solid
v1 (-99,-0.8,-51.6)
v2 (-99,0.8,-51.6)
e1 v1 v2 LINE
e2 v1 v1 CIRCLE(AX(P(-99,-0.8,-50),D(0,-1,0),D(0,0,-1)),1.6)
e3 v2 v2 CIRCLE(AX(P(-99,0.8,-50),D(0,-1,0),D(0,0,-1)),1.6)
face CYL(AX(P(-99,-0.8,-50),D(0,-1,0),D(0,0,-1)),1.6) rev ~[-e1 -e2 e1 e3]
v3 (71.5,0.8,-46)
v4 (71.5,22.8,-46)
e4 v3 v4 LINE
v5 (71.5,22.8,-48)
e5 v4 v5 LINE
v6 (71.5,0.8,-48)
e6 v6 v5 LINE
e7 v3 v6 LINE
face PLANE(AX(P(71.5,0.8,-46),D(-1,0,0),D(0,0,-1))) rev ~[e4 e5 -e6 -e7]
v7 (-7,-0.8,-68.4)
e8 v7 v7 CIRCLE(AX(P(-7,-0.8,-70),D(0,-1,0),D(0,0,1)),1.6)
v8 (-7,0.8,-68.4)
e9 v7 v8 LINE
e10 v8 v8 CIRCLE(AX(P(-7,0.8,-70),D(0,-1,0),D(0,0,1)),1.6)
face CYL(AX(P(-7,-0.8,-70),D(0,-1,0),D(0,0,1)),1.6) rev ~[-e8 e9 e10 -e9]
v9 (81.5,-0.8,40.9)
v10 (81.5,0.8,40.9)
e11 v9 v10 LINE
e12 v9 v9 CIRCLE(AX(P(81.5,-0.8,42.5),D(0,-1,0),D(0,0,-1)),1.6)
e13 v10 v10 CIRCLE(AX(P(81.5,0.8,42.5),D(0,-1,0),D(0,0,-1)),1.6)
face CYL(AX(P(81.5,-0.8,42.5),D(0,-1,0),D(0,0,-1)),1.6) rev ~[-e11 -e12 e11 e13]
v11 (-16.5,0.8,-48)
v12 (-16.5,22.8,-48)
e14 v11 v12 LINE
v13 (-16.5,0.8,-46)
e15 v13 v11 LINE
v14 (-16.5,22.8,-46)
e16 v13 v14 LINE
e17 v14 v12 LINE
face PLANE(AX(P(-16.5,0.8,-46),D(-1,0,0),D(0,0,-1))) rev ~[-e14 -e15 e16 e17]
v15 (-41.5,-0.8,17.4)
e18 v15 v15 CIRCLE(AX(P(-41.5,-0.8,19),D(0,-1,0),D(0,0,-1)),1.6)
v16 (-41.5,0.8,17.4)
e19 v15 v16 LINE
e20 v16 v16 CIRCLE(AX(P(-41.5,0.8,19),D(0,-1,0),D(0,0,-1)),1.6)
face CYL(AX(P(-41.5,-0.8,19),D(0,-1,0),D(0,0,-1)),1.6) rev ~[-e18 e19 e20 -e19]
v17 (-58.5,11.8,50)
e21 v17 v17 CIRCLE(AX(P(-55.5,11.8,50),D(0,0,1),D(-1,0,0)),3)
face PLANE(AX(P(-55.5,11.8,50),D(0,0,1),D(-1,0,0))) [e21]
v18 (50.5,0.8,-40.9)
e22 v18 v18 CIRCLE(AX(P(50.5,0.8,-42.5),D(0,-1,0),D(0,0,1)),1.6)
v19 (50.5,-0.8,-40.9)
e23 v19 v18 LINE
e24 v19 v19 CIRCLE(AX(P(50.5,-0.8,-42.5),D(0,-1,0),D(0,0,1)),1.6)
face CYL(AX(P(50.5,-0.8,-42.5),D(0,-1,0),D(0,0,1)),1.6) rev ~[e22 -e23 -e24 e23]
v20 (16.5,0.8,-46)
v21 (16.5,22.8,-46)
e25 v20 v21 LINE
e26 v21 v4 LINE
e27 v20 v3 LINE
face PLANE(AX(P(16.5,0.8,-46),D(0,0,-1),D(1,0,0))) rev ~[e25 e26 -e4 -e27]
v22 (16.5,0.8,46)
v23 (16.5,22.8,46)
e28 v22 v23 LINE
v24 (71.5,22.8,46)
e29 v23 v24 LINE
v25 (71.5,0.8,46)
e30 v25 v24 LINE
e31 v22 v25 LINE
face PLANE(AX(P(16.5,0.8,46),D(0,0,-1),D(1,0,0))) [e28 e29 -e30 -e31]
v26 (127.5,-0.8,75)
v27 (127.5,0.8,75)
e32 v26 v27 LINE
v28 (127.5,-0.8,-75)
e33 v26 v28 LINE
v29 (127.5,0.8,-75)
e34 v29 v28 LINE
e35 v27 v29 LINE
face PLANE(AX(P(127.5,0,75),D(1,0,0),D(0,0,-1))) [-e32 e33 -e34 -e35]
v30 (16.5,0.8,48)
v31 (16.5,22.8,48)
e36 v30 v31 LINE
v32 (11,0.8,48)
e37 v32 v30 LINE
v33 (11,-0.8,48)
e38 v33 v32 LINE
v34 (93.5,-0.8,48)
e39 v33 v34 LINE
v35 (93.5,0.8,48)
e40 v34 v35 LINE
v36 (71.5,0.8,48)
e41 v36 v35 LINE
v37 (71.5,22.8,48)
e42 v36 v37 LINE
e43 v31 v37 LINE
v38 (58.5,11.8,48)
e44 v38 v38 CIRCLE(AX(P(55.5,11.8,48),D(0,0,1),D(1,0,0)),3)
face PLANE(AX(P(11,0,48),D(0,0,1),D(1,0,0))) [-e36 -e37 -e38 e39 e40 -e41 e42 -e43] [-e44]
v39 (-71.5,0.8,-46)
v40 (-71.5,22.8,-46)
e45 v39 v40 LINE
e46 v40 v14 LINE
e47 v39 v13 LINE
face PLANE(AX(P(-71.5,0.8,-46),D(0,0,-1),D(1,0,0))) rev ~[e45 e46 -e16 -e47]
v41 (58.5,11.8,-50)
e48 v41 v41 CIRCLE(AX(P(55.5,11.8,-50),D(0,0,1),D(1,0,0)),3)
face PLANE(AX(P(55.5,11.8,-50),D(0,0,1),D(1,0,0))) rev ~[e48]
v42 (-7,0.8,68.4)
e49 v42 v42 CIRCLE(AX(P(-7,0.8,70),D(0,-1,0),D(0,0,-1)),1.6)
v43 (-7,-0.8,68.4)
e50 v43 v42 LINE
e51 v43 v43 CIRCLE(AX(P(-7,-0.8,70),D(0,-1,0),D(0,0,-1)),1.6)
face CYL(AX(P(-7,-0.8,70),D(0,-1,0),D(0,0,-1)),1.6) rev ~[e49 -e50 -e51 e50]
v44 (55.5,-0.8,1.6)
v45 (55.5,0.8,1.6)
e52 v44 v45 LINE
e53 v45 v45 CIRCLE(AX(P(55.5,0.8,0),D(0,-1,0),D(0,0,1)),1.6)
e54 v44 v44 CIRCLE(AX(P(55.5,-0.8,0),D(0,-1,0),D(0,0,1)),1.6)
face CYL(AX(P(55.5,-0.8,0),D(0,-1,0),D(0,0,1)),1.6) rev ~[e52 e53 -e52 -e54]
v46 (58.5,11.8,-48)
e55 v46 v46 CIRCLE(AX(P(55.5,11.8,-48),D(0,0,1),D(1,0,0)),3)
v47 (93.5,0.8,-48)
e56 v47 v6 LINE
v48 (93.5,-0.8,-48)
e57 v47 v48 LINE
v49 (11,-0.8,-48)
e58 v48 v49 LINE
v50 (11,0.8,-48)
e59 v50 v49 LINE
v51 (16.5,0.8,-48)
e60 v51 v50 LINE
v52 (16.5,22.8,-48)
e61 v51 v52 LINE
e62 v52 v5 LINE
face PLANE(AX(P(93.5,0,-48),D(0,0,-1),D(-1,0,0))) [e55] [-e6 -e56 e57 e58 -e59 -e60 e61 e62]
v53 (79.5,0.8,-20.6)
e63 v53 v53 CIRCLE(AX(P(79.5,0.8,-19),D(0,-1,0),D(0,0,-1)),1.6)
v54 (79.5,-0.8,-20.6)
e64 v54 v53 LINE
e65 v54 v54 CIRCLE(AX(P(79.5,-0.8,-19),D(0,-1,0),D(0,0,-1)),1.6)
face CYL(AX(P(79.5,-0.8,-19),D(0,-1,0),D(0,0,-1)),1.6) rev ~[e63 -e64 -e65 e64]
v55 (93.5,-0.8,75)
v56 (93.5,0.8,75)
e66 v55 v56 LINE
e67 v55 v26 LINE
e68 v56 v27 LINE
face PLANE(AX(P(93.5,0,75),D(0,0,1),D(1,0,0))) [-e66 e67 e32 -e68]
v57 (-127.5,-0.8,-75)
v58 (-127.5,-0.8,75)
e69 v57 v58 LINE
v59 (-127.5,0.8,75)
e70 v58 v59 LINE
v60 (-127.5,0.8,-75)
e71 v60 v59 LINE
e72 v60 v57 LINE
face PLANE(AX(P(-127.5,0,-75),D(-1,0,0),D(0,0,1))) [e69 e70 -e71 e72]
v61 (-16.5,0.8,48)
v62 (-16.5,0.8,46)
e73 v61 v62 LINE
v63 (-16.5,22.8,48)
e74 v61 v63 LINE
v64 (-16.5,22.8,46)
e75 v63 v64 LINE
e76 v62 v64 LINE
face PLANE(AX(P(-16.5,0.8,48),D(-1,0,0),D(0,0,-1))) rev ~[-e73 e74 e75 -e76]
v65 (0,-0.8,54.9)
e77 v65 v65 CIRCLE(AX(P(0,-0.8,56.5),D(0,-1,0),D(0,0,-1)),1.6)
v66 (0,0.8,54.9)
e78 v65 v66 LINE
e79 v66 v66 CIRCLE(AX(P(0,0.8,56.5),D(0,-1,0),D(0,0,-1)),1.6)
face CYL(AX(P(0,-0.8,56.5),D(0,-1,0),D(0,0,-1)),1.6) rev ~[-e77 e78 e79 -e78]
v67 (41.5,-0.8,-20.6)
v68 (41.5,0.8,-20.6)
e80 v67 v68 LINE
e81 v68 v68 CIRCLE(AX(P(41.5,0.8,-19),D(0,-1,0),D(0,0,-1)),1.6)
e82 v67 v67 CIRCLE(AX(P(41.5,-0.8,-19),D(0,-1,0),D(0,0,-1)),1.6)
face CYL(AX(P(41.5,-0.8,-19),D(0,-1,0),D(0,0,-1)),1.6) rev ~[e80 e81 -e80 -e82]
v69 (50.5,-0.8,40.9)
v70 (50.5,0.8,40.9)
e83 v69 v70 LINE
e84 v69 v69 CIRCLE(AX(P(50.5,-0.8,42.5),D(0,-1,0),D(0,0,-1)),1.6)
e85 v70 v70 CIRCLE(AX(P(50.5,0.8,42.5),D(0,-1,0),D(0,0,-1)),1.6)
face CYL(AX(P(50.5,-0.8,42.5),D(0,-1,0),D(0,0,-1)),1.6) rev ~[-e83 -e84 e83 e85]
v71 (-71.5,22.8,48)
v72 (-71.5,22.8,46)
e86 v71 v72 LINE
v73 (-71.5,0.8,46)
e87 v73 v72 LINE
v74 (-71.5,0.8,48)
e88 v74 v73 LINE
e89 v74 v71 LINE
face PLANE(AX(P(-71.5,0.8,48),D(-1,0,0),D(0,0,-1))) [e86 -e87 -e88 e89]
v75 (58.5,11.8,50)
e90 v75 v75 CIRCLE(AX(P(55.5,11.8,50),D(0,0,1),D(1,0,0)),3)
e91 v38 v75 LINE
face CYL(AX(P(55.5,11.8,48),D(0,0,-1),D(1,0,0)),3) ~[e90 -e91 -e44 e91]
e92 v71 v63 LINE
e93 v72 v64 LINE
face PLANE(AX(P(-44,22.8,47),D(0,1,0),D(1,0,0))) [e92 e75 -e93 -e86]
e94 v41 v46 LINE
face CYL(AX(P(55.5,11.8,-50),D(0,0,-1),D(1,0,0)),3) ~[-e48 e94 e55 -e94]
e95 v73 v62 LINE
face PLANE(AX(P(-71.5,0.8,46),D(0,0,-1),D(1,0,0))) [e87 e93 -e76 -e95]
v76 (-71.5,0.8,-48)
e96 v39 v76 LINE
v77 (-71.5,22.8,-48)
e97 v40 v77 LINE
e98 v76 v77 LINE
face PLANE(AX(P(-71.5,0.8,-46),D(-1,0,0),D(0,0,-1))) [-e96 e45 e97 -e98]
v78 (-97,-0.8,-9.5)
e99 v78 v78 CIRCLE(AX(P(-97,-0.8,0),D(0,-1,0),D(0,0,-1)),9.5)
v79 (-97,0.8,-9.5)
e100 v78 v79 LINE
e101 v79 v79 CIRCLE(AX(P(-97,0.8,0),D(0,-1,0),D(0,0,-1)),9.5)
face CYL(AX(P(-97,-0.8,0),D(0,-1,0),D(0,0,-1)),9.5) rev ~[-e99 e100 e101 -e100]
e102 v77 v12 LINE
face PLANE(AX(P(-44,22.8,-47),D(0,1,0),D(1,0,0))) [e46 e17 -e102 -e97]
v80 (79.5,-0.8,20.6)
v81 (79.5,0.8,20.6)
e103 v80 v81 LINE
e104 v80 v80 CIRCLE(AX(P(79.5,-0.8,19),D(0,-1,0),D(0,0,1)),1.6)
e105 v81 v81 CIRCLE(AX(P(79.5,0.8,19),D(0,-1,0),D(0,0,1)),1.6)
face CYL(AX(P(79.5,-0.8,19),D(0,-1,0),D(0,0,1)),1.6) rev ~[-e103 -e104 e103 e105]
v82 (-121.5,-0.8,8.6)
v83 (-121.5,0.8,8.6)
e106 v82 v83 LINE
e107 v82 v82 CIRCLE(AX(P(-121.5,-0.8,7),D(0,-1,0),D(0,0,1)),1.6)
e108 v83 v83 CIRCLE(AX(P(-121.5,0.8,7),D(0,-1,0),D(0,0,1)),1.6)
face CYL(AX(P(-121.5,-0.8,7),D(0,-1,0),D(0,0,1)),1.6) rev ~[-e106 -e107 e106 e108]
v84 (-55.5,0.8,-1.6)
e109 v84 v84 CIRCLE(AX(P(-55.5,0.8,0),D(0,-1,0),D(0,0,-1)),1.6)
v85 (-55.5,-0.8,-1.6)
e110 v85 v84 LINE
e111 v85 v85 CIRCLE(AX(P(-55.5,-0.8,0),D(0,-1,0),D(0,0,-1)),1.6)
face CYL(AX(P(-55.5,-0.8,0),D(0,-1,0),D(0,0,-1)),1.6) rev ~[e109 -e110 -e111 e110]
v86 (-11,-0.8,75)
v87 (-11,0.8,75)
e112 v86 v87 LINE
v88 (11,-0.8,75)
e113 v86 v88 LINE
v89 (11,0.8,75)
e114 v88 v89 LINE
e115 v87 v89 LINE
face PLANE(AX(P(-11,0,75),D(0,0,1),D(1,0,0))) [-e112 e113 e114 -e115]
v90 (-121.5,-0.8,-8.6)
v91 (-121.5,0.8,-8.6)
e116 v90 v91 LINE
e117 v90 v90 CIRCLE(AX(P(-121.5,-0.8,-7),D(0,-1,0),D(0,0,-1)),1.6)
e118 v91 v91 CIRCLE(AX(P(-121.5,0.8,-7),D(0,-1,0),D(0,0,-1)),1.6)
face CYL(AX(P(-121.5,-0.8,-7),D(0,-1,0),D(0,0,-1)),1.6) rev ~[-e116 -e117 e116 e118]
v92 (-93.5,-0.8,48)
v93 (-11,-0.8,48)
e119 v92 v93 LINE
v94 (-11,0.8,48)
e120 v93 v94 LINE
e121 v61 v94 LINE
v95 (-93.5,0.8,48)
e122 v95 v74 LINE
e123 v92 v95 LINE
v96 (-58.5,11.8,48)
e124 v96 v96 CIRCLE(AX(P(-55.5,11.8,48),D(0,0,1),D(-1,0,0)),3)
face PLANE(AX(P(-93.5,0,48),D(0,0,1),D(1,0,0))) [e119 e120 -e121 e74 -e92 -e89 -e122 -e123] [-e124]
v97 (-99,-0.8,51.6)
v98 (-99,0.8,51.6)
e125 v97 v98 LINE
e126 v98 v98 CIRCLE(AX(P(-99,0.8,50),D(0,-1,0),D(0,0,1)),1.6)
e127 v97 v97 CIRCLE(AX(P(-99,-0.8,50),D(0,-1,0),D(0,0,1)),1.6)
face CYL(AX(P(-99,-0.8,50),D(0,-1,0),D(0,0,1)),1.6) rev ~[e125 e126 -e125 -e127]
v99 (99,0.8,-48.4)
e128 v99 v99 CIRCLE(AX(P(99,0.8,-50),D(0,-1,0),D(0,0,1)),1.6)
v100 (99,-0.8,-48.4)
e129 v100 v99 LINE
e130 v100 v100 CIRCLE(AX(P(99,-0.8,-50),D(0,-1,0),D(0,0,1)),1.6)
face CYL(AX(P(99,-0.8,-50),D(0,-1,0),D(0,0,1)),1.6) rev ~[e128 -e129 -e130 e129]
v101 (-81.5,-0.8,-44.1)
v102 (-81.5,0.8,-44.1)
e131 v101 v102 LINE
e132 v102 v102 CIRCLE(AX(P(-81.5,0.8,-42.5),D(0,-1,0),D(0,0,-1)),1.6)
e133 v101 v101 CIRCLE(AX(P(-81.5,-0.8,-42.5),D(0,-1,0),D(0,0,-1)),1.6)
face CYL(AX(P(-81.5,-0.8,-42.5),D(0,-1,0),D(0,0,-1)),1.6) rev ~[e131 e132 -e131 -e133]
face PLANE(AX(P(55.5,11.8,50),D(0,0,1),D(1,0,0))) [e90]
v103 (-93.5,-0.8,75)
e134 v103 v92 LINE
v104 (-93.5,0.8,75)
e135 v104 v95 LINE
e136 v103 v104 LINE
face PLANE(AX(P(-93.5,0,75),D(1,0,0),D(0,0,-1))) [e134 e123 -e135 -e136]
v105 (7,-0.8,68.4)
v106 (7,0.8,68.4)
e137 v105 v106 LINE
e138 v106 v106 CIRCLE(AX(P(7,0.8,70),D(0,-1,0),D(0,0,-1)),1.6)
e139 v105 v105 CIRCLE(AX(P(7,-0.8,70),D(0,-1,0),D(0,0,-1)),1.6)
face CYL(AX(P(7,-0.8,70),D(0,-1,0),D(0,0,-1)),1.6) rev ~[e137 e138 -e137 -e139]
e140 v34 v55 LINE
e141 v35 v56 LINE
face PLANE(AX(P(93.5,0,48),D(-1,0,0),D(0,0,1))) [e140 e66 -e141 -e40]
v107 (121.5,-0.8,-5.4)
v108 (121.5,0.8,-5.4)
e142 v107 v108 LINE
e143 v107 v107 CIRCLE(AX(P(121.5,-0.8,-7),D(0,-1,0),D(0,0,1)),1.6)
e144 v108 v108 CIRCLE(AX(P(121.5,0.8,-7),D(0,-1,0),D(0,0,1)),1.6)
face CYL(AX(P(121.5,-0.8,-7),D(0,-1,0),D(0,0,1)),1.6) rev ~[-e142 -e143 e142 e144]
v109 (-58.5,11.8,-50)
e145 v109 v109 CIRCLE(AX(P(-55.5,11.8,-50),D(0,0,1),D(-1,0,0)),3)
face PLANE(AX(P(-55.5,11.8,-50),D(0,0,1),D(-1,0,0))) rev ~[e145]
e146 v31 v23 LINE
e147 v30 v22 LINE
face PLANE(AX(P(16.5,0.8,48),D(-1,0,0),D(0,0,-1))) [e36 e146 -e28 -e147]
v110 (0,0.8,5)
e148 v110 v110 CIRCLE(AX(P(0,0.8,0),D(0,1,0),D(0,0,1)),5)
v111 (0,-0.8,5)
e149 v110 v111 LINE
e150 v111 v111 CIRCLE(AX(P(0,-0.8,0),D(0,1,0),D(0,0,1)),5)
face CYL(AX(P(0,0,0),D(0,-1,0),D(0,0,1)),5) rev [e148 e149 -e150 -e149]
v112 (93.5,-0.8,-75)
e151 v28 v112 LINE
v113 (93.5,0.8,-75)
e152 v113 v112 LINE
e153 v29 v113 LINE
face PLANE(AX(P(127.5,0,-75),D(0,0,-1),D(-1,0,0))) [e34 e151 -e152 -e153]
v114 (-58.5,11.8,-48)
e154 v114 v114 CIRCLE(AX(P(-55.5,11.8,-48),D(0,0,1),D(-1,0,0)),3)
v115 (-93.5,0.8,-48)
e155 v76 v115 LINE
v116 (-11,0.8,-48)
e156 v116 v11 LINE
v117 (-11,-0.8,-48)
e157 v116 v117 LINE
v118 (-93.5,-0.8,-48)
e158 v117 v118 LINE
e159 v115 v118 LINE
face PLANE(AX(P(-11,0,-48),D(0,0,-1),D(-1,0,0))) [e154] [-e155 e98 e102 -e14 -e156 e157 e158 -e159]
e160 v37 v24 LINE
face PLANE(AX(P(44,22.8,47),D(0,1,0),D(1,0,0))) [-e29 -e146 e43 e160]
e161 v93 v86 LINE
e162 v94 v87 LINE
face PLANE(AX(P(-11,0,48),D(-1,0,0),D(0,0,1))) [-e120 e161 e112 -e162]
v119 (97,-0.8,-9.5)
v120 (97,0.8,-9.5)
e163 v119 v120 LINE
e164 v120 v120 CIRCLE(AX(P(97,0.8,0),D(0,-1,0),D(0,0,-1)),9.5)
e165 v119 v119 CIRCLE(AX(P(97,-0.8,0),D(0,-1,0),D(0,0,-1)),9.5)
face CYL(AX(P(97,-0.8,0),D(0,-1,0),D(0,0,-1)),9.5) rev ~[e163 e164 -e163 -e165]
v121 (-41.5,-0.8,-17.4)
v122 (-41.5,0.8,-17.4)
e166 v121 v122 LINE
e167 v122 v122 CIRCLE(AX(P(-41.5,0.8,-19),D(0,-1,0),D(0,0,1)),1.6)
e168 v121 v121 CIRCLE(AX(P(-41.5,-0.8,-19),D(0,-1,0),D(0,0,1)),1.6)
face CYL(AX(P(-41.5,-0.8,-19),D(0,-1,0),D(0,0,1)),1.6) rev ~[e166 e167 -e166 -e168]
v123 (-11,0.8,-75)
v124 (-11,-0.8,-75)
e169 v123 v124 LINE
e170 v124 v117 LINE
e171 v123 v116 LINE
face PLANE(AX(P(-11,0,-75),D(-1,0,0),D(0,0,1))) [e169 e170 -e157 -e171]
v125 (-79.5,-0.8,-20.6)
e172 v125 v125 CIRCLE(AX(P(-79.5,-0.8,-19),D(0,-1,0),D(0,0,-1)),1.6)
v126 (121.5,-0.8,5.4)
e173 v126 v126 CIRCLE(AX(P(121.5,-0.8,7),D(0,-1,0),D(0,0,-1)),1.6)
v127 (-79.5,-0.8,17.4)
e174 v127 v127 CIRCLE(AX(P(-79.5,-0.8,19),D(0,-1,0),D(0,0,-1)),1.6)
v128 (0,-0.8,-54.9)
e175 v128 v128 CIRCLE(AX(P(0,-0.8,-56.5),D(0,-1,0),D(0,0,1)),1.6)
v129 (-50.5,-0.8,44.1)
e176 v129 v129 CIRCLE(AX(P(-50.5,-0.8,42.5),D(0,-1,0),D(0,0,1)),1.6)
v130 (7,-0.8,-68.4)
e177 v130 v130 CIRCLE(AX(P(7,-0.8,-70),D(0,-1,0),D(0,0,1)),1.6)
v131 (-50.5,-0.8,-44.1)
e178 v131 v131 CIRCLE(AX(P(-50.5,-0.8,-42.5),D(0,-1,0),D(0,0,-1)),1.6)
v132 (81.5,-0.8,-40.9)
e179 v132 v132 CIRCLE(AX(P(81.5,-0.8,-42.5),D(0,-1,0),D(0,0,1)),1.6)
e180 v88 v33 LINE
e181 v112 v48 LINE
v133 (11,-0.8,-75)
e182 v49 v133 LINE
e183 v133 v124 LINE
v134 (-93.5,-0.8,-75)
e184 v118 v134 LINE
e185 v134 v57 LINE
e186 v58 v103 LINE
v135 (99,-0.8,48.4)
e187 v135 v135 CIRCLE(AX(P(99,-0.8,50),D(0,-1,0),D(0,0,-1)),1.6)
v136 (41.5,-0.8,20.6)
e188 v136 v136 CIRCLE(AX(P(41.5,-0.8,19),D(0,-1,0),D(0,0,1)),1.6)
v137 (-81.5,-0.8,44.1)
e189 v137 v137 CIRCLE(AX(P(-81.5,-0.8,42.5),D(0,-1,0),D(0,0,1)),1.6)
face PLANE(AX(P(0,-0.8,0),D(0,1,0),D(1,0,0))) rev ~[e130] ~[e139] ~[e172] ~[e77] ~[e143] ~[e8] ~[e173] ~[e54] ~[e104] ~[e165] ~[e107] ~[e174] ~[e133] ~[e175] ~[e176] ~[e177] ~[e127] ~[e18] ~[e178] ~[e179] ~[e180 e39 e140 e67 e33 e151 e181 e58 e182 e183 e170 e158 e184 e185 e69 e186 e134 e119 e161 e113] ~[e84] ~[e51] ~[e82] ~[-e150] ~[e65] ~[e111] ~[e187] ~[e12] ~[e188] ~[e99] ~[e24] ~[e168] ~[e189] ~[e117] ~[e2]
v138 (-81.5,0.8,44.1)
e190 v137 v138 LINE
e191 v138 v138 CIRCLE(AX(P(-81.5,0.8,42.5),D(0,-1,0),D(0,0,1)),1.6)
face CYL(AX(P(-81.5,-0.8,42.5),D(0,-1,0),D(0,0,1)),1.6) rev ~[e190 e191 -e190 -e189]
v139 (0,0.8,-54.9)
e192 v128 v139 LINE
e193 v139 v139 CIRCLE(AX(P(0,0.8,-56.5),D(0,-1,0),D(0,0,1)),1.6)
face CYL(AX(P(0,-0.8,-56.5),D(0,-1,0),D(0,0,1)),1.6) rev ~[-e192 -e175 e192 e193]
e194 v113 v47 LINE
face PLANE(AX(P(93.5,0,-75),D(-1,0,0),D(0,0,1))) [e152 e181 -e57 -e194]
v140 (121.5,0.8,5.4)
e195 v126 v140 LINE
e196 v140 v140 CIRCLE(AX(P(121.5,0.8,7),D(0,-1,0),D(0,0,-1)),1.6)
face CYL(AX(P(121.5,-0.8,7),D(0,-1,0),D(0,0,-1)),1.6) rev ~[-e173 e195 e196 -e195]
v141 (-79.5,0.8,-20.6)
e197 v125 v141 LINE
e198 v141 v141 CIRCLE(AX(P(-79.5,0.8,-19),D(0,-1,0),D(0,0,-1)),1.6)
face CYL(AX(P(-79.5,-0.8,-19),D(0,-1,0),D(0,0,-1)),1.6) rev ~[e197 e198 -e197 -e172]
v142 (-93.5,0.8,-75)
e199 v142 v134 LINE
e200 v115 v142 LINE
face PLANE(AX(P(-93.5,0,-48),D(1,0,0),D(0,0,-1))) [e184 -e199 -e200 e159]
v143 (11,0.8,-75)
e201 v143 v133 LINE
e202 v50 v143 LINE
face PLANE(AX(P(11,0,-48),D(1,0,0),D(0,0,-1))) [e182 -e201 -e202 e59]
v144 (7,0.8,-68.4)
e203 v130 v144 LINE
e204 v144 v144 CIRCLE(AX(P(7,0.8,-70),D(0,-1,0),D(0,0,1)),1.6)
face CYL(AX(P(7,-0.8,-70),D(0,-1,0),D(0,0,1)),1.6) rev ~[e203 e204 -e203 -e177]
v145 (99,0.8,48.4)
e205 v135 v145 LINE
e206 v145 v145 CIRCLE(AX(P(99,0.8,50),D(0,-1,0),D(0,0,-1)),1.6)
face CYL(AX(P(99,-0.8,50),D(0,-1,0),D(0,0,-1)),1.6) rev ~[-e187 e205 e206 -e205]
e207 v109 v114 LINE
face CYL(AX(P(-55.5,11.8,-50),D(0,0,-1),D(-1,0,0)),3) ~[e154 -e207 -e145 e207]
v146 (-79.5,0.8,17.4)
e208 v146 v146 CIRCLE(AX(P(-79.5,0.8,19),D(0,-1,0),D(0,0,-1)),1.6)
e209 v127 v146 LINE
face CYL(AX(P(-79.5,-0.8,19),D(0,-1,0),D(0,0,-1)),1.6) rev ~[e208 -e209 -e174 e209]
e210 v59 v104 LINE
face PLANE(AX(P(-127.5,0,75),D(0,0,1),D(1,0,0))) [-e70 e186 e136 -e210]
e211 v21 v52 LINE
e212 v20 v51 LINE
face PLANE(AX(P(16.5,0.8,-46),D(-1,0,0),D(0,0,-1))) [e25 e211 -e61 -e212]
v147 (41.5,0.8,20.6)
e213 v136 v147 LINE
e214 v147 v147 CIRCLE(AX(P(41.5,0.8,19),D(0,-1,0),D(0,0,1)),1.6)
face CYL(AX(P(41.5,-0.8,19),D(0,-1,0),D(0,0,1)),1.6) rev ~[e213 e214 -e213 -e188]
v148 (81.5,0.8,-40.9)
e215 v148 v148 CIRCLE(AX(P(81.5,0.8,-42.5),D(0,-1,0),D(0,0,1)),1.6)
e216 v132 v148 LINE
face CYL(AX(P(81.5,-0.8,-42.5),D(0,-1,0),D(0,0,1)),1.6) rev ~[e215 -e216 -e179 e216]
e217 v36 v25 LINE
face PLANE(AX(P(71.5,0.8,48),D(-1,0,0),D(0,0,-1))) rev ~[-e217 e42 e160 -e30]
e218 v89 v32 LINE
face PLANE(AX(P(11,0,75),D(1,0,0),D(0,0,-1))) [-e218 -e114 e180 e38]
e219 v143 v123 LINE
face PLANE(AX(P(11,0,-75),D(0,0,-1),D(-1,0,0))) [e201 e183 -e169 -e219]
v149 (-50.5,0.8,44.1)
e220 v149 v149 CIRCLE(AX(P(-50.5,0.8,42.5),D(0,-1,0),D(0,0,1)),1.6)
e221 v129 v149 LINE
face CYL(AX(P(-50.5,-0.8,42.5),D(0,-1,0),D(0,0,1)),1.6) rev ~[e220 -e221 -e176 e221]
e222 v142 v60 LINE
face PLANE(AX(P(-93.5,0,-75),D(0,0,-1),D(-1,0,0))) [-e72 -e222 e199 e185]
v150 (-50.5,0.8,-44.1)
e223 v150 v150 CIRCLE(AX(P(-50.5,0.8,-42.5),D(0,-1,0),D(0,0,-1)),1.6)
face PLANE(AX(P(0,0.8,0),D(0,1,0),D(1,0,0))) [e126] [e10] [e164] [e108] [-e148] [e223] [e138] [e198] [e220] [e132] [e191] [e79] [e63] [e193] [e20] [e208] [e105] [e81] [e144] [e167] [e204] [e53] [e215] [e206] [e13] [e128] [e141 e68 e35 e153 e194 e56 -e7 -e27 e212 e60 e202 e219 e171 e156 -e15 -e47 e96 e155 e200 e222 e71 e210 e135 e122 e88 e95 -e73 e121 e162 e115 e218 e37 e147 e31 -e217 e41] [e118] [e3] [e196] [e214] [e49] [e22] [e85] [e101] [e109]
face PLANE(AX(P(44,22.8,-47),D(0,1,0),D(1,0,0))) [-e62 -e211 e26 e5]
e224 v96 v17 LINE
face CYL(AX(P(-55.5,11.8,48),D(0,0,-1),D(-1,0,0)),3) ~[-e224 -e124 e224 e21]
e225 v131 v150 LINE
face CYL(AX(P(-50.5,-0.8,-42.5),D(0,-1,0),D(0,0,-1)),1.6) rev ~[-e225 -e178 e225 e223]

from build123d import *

# Parameters (mm, degrees)
SKETCH_2_R             = 5
EXTRUDE_1_DEPTH        = 0.8
SKETCH_3_W             = 55
SKETCH_3_H             = 2
EXTRUDE_2_DEPTH        = 22
SKETCH_4_R             = 3
EXTRUDE_3_DEPTH        = 2
PATTERN_LINEAR_1_COUNT = 2
PATTERN_LINEAR_1_PITCH = 98
SKETCH_5_R             = 1.6
SKETCH_5_R_2           = 9.5
CUT_EXTRUDE_1_DEPTH    = 2


with BuildPart() as part:
    # 草图2 → 凸台-拉伸1 (new, symmetric)
    with BuildSketch(Plane(origin=(0, 0, 0), x_dir=(1, 0, 0), z_dir=(0, 1, 0))):
        Polygon((-127.5, 75), (-127.5, -75), (-93.5, -75), (-93.5, -48), (-11, -48), (-11, -75), (11, -75), (11, -48), (93.5, -48), (93.5, -75), (127.5, -75), (127.5, 75), (93.5, 75), (93.5, 48), (11, 48), (11, 75), (-11, 75), (-11, 48), (-93.5, 48), (-93.5, 75), align=None)
        with Locations(Location((0, 0, 0), (0, 0, 270))):
            Circle(SKETCH_2_R, mode=Mode.SUBTRACT)
    extrude(amount=EXTRUDE_1_DEPTH, both=True)

    # 草图3 → 凸台-拉伸2 (add)
    with BuildSketch(Plane(origin=(0, 0.8, 0), x_dir=(1, 0, 0), z_dir=(0, 1, 0))):
        with Locations((-44, -47)):
            Rectangle(SKETCH_3_W, SKETCH_3_H)
        with Locations((44, -47)):
            Rectangle(SKETCH_3_W, SKETCH_3_H)
        with Locations((44, 47)):
            Rectangle(SKETCH_3_W, SKETCH_3_H)
        with Locations((-44, 47)):
            Rectangle(SKETCH_3_W, SKETCH_3_H)
    extrude(amount=EXTRUDE_2_DEPTH)

    # 草图4 → 凸台-拉伸3 (add)
    with BuildSketch(Plane.XY.offset(48)):
        with Locations((55.5, 11.8)):
            Circle(SKETCH_4_R)
        with Locations(Location((-55.5, 11.8, 0), (0, 0, 180))):
            Circle(SKETCH_4_R)
    extrude_3 = extrude(amount=EXTRUDE_3_DEPTH)

    # 阵列(线性)1: 凸台-拉伸3 ×2
    with Locations(*[(0, 0, -i * PATTERN_LINEAR_1_PITCH) for i in range(1, PATTERN_LINEAR_1_COUNT)]):
        add(extrude_3)

    # 草图5 → 切除-拉伸1 (cut)
    with BuildSketch(Plane.XZ.offset(0.8)):
        with Locations(Location((-55.5, 0, 0), (0, 0, 270))):
            Circle(SKETCH_5_R)
        with Locations(Location((0, 56.5, 0), (0, 0, 270))):
            Circle(SKETCH_5_R)
        with Locations(Location((7, 70, 0), (0, 0, 270))):
            Circle(SKETCH_5_R)
        with Locations(Location((-7, 70, 0), (0, 0, 270))):
            Circle(SKETCH_5_R)
        with Locations(Location((99, 50, 0), (0, 0, 270))):
            Circle(SKETCH_5_R)
        with Locations(Location((-81.5, -42.5, 0), (0, 0, 270))):
            Circle(SKETCH_5_R)
        with Locations(Location((-50.5, -42.5, 0), (0, 0, 270))):
            Circle(SKETCH_5_R)
        with Locations(Location((-99, -50, 0), (0, 0, 270))):
            Circle(SKETCH_5_R)
        with Locations(Location((-97, 0, 0), (0, 0, 270))):
            Circle(SKETCH_5_R_2)
        with Locations(Location((-121.5, -7, 0), (0, 0, 270))):
            Circle(SKETCH_5_R)
        with Locations(Location((55.5, 0, 0), (0, 0, 90))):
            Circle(SKETCH_5_R)
        with Locations(Location((81.5, -42.5, 0), (0, 0, 90))):
            Circle(SKETCH_5_R)
        with Locations(Location((50.5, -42.5, 0), (0, 0, 90))):
            Circle(SKETCH_5_R)
        with Locations(Location((99, -50, 0), (0, 0, 90))):
            Circle(SKETCH_5_R)
        with Locations(Location((121.5, -7, 0), (0, 0, 90))):
            Circle(SKETCH_5_R)
        with Locations(Location((97, 0, 0), (0, 0, 270))):
            Circle(SKETCH_5_R_2)
        with Locations(Location((7, -70, 0), (0, 0, 90))):
            Circle(SKETCH_5_R)
        with Locations(Location((-7, -70, 0), (0, 0, 90))):
            Circle(SKETCH_5_R)
        with Locations(Location((0, -56.5, 0), (0, 0, 90))):
            Circle(SKETCH_5_R)
        with Locations(Location((50.5, 42.5, 0), (0, 0, 270))):
            Circle(SKETCH_5_R)
        with Locations(Location((81.5, 42.5, 0), (0, 0, 270))):
            Circle(SKETCH_5_R)
        with Locations(Location((121.5, 7, 0), (0, 0, 270))):
            Circle(SKETCH_5_R)
        with Locations(Location((-50.5, 42.5, 0), (0, 0, 90))):
            Circle(SKETCH_5_R)
        with Locations(Location((-121.5, 7, 0), (0, 0, 90))):
            Circle(SKETCH_5_R)
        with Locations(Location((-81.5, 42.5, 0), (0, 0, 90))):
            Circle(SKETCH_5_R)
        with Locations(Location((-99, 50, 0), (0, 0, 90))):
            Circle(SKETCH_5_R)
        with Locations(Location((-79.5, 19, 0), (0, 0, 270))):
            Circle(SKETCH_5_R)
        with Locations(Location((-41.5, 19, 0), (0, 0, 270))):
            Circle(SKETCH_5_R)
        with Locations(Location((-41.5, -19, 0), (0, 0, 90))):
            Circle(SKETCH_5_R)
        with Locations(Location((-79.5, -19, 0), (0, 0, 270))):
            Circle(SKETCH_5_R)
        with Locations(Location((41.5, 19, 0), (0, 0, 90))):
            Circle(SKETCH_5_R)
        with Locations(Location((79.5, 19, 0), (0, 0, 90))):
            Circle(SKETCH_5_R)
        with Locations(Location((41.5, -19, 0), (0, 0, 270))):
            Circle(SKETCH_5_R)
        with Locations(Location((79.5, -19, 0), (0, 0, 270))):
            Circle(SKETCH_5_R)
    extrude(amount=-CUT_EXTRUDE_1_DEPTH, mode=Mode.SUBTRACT)


solid = part.part
